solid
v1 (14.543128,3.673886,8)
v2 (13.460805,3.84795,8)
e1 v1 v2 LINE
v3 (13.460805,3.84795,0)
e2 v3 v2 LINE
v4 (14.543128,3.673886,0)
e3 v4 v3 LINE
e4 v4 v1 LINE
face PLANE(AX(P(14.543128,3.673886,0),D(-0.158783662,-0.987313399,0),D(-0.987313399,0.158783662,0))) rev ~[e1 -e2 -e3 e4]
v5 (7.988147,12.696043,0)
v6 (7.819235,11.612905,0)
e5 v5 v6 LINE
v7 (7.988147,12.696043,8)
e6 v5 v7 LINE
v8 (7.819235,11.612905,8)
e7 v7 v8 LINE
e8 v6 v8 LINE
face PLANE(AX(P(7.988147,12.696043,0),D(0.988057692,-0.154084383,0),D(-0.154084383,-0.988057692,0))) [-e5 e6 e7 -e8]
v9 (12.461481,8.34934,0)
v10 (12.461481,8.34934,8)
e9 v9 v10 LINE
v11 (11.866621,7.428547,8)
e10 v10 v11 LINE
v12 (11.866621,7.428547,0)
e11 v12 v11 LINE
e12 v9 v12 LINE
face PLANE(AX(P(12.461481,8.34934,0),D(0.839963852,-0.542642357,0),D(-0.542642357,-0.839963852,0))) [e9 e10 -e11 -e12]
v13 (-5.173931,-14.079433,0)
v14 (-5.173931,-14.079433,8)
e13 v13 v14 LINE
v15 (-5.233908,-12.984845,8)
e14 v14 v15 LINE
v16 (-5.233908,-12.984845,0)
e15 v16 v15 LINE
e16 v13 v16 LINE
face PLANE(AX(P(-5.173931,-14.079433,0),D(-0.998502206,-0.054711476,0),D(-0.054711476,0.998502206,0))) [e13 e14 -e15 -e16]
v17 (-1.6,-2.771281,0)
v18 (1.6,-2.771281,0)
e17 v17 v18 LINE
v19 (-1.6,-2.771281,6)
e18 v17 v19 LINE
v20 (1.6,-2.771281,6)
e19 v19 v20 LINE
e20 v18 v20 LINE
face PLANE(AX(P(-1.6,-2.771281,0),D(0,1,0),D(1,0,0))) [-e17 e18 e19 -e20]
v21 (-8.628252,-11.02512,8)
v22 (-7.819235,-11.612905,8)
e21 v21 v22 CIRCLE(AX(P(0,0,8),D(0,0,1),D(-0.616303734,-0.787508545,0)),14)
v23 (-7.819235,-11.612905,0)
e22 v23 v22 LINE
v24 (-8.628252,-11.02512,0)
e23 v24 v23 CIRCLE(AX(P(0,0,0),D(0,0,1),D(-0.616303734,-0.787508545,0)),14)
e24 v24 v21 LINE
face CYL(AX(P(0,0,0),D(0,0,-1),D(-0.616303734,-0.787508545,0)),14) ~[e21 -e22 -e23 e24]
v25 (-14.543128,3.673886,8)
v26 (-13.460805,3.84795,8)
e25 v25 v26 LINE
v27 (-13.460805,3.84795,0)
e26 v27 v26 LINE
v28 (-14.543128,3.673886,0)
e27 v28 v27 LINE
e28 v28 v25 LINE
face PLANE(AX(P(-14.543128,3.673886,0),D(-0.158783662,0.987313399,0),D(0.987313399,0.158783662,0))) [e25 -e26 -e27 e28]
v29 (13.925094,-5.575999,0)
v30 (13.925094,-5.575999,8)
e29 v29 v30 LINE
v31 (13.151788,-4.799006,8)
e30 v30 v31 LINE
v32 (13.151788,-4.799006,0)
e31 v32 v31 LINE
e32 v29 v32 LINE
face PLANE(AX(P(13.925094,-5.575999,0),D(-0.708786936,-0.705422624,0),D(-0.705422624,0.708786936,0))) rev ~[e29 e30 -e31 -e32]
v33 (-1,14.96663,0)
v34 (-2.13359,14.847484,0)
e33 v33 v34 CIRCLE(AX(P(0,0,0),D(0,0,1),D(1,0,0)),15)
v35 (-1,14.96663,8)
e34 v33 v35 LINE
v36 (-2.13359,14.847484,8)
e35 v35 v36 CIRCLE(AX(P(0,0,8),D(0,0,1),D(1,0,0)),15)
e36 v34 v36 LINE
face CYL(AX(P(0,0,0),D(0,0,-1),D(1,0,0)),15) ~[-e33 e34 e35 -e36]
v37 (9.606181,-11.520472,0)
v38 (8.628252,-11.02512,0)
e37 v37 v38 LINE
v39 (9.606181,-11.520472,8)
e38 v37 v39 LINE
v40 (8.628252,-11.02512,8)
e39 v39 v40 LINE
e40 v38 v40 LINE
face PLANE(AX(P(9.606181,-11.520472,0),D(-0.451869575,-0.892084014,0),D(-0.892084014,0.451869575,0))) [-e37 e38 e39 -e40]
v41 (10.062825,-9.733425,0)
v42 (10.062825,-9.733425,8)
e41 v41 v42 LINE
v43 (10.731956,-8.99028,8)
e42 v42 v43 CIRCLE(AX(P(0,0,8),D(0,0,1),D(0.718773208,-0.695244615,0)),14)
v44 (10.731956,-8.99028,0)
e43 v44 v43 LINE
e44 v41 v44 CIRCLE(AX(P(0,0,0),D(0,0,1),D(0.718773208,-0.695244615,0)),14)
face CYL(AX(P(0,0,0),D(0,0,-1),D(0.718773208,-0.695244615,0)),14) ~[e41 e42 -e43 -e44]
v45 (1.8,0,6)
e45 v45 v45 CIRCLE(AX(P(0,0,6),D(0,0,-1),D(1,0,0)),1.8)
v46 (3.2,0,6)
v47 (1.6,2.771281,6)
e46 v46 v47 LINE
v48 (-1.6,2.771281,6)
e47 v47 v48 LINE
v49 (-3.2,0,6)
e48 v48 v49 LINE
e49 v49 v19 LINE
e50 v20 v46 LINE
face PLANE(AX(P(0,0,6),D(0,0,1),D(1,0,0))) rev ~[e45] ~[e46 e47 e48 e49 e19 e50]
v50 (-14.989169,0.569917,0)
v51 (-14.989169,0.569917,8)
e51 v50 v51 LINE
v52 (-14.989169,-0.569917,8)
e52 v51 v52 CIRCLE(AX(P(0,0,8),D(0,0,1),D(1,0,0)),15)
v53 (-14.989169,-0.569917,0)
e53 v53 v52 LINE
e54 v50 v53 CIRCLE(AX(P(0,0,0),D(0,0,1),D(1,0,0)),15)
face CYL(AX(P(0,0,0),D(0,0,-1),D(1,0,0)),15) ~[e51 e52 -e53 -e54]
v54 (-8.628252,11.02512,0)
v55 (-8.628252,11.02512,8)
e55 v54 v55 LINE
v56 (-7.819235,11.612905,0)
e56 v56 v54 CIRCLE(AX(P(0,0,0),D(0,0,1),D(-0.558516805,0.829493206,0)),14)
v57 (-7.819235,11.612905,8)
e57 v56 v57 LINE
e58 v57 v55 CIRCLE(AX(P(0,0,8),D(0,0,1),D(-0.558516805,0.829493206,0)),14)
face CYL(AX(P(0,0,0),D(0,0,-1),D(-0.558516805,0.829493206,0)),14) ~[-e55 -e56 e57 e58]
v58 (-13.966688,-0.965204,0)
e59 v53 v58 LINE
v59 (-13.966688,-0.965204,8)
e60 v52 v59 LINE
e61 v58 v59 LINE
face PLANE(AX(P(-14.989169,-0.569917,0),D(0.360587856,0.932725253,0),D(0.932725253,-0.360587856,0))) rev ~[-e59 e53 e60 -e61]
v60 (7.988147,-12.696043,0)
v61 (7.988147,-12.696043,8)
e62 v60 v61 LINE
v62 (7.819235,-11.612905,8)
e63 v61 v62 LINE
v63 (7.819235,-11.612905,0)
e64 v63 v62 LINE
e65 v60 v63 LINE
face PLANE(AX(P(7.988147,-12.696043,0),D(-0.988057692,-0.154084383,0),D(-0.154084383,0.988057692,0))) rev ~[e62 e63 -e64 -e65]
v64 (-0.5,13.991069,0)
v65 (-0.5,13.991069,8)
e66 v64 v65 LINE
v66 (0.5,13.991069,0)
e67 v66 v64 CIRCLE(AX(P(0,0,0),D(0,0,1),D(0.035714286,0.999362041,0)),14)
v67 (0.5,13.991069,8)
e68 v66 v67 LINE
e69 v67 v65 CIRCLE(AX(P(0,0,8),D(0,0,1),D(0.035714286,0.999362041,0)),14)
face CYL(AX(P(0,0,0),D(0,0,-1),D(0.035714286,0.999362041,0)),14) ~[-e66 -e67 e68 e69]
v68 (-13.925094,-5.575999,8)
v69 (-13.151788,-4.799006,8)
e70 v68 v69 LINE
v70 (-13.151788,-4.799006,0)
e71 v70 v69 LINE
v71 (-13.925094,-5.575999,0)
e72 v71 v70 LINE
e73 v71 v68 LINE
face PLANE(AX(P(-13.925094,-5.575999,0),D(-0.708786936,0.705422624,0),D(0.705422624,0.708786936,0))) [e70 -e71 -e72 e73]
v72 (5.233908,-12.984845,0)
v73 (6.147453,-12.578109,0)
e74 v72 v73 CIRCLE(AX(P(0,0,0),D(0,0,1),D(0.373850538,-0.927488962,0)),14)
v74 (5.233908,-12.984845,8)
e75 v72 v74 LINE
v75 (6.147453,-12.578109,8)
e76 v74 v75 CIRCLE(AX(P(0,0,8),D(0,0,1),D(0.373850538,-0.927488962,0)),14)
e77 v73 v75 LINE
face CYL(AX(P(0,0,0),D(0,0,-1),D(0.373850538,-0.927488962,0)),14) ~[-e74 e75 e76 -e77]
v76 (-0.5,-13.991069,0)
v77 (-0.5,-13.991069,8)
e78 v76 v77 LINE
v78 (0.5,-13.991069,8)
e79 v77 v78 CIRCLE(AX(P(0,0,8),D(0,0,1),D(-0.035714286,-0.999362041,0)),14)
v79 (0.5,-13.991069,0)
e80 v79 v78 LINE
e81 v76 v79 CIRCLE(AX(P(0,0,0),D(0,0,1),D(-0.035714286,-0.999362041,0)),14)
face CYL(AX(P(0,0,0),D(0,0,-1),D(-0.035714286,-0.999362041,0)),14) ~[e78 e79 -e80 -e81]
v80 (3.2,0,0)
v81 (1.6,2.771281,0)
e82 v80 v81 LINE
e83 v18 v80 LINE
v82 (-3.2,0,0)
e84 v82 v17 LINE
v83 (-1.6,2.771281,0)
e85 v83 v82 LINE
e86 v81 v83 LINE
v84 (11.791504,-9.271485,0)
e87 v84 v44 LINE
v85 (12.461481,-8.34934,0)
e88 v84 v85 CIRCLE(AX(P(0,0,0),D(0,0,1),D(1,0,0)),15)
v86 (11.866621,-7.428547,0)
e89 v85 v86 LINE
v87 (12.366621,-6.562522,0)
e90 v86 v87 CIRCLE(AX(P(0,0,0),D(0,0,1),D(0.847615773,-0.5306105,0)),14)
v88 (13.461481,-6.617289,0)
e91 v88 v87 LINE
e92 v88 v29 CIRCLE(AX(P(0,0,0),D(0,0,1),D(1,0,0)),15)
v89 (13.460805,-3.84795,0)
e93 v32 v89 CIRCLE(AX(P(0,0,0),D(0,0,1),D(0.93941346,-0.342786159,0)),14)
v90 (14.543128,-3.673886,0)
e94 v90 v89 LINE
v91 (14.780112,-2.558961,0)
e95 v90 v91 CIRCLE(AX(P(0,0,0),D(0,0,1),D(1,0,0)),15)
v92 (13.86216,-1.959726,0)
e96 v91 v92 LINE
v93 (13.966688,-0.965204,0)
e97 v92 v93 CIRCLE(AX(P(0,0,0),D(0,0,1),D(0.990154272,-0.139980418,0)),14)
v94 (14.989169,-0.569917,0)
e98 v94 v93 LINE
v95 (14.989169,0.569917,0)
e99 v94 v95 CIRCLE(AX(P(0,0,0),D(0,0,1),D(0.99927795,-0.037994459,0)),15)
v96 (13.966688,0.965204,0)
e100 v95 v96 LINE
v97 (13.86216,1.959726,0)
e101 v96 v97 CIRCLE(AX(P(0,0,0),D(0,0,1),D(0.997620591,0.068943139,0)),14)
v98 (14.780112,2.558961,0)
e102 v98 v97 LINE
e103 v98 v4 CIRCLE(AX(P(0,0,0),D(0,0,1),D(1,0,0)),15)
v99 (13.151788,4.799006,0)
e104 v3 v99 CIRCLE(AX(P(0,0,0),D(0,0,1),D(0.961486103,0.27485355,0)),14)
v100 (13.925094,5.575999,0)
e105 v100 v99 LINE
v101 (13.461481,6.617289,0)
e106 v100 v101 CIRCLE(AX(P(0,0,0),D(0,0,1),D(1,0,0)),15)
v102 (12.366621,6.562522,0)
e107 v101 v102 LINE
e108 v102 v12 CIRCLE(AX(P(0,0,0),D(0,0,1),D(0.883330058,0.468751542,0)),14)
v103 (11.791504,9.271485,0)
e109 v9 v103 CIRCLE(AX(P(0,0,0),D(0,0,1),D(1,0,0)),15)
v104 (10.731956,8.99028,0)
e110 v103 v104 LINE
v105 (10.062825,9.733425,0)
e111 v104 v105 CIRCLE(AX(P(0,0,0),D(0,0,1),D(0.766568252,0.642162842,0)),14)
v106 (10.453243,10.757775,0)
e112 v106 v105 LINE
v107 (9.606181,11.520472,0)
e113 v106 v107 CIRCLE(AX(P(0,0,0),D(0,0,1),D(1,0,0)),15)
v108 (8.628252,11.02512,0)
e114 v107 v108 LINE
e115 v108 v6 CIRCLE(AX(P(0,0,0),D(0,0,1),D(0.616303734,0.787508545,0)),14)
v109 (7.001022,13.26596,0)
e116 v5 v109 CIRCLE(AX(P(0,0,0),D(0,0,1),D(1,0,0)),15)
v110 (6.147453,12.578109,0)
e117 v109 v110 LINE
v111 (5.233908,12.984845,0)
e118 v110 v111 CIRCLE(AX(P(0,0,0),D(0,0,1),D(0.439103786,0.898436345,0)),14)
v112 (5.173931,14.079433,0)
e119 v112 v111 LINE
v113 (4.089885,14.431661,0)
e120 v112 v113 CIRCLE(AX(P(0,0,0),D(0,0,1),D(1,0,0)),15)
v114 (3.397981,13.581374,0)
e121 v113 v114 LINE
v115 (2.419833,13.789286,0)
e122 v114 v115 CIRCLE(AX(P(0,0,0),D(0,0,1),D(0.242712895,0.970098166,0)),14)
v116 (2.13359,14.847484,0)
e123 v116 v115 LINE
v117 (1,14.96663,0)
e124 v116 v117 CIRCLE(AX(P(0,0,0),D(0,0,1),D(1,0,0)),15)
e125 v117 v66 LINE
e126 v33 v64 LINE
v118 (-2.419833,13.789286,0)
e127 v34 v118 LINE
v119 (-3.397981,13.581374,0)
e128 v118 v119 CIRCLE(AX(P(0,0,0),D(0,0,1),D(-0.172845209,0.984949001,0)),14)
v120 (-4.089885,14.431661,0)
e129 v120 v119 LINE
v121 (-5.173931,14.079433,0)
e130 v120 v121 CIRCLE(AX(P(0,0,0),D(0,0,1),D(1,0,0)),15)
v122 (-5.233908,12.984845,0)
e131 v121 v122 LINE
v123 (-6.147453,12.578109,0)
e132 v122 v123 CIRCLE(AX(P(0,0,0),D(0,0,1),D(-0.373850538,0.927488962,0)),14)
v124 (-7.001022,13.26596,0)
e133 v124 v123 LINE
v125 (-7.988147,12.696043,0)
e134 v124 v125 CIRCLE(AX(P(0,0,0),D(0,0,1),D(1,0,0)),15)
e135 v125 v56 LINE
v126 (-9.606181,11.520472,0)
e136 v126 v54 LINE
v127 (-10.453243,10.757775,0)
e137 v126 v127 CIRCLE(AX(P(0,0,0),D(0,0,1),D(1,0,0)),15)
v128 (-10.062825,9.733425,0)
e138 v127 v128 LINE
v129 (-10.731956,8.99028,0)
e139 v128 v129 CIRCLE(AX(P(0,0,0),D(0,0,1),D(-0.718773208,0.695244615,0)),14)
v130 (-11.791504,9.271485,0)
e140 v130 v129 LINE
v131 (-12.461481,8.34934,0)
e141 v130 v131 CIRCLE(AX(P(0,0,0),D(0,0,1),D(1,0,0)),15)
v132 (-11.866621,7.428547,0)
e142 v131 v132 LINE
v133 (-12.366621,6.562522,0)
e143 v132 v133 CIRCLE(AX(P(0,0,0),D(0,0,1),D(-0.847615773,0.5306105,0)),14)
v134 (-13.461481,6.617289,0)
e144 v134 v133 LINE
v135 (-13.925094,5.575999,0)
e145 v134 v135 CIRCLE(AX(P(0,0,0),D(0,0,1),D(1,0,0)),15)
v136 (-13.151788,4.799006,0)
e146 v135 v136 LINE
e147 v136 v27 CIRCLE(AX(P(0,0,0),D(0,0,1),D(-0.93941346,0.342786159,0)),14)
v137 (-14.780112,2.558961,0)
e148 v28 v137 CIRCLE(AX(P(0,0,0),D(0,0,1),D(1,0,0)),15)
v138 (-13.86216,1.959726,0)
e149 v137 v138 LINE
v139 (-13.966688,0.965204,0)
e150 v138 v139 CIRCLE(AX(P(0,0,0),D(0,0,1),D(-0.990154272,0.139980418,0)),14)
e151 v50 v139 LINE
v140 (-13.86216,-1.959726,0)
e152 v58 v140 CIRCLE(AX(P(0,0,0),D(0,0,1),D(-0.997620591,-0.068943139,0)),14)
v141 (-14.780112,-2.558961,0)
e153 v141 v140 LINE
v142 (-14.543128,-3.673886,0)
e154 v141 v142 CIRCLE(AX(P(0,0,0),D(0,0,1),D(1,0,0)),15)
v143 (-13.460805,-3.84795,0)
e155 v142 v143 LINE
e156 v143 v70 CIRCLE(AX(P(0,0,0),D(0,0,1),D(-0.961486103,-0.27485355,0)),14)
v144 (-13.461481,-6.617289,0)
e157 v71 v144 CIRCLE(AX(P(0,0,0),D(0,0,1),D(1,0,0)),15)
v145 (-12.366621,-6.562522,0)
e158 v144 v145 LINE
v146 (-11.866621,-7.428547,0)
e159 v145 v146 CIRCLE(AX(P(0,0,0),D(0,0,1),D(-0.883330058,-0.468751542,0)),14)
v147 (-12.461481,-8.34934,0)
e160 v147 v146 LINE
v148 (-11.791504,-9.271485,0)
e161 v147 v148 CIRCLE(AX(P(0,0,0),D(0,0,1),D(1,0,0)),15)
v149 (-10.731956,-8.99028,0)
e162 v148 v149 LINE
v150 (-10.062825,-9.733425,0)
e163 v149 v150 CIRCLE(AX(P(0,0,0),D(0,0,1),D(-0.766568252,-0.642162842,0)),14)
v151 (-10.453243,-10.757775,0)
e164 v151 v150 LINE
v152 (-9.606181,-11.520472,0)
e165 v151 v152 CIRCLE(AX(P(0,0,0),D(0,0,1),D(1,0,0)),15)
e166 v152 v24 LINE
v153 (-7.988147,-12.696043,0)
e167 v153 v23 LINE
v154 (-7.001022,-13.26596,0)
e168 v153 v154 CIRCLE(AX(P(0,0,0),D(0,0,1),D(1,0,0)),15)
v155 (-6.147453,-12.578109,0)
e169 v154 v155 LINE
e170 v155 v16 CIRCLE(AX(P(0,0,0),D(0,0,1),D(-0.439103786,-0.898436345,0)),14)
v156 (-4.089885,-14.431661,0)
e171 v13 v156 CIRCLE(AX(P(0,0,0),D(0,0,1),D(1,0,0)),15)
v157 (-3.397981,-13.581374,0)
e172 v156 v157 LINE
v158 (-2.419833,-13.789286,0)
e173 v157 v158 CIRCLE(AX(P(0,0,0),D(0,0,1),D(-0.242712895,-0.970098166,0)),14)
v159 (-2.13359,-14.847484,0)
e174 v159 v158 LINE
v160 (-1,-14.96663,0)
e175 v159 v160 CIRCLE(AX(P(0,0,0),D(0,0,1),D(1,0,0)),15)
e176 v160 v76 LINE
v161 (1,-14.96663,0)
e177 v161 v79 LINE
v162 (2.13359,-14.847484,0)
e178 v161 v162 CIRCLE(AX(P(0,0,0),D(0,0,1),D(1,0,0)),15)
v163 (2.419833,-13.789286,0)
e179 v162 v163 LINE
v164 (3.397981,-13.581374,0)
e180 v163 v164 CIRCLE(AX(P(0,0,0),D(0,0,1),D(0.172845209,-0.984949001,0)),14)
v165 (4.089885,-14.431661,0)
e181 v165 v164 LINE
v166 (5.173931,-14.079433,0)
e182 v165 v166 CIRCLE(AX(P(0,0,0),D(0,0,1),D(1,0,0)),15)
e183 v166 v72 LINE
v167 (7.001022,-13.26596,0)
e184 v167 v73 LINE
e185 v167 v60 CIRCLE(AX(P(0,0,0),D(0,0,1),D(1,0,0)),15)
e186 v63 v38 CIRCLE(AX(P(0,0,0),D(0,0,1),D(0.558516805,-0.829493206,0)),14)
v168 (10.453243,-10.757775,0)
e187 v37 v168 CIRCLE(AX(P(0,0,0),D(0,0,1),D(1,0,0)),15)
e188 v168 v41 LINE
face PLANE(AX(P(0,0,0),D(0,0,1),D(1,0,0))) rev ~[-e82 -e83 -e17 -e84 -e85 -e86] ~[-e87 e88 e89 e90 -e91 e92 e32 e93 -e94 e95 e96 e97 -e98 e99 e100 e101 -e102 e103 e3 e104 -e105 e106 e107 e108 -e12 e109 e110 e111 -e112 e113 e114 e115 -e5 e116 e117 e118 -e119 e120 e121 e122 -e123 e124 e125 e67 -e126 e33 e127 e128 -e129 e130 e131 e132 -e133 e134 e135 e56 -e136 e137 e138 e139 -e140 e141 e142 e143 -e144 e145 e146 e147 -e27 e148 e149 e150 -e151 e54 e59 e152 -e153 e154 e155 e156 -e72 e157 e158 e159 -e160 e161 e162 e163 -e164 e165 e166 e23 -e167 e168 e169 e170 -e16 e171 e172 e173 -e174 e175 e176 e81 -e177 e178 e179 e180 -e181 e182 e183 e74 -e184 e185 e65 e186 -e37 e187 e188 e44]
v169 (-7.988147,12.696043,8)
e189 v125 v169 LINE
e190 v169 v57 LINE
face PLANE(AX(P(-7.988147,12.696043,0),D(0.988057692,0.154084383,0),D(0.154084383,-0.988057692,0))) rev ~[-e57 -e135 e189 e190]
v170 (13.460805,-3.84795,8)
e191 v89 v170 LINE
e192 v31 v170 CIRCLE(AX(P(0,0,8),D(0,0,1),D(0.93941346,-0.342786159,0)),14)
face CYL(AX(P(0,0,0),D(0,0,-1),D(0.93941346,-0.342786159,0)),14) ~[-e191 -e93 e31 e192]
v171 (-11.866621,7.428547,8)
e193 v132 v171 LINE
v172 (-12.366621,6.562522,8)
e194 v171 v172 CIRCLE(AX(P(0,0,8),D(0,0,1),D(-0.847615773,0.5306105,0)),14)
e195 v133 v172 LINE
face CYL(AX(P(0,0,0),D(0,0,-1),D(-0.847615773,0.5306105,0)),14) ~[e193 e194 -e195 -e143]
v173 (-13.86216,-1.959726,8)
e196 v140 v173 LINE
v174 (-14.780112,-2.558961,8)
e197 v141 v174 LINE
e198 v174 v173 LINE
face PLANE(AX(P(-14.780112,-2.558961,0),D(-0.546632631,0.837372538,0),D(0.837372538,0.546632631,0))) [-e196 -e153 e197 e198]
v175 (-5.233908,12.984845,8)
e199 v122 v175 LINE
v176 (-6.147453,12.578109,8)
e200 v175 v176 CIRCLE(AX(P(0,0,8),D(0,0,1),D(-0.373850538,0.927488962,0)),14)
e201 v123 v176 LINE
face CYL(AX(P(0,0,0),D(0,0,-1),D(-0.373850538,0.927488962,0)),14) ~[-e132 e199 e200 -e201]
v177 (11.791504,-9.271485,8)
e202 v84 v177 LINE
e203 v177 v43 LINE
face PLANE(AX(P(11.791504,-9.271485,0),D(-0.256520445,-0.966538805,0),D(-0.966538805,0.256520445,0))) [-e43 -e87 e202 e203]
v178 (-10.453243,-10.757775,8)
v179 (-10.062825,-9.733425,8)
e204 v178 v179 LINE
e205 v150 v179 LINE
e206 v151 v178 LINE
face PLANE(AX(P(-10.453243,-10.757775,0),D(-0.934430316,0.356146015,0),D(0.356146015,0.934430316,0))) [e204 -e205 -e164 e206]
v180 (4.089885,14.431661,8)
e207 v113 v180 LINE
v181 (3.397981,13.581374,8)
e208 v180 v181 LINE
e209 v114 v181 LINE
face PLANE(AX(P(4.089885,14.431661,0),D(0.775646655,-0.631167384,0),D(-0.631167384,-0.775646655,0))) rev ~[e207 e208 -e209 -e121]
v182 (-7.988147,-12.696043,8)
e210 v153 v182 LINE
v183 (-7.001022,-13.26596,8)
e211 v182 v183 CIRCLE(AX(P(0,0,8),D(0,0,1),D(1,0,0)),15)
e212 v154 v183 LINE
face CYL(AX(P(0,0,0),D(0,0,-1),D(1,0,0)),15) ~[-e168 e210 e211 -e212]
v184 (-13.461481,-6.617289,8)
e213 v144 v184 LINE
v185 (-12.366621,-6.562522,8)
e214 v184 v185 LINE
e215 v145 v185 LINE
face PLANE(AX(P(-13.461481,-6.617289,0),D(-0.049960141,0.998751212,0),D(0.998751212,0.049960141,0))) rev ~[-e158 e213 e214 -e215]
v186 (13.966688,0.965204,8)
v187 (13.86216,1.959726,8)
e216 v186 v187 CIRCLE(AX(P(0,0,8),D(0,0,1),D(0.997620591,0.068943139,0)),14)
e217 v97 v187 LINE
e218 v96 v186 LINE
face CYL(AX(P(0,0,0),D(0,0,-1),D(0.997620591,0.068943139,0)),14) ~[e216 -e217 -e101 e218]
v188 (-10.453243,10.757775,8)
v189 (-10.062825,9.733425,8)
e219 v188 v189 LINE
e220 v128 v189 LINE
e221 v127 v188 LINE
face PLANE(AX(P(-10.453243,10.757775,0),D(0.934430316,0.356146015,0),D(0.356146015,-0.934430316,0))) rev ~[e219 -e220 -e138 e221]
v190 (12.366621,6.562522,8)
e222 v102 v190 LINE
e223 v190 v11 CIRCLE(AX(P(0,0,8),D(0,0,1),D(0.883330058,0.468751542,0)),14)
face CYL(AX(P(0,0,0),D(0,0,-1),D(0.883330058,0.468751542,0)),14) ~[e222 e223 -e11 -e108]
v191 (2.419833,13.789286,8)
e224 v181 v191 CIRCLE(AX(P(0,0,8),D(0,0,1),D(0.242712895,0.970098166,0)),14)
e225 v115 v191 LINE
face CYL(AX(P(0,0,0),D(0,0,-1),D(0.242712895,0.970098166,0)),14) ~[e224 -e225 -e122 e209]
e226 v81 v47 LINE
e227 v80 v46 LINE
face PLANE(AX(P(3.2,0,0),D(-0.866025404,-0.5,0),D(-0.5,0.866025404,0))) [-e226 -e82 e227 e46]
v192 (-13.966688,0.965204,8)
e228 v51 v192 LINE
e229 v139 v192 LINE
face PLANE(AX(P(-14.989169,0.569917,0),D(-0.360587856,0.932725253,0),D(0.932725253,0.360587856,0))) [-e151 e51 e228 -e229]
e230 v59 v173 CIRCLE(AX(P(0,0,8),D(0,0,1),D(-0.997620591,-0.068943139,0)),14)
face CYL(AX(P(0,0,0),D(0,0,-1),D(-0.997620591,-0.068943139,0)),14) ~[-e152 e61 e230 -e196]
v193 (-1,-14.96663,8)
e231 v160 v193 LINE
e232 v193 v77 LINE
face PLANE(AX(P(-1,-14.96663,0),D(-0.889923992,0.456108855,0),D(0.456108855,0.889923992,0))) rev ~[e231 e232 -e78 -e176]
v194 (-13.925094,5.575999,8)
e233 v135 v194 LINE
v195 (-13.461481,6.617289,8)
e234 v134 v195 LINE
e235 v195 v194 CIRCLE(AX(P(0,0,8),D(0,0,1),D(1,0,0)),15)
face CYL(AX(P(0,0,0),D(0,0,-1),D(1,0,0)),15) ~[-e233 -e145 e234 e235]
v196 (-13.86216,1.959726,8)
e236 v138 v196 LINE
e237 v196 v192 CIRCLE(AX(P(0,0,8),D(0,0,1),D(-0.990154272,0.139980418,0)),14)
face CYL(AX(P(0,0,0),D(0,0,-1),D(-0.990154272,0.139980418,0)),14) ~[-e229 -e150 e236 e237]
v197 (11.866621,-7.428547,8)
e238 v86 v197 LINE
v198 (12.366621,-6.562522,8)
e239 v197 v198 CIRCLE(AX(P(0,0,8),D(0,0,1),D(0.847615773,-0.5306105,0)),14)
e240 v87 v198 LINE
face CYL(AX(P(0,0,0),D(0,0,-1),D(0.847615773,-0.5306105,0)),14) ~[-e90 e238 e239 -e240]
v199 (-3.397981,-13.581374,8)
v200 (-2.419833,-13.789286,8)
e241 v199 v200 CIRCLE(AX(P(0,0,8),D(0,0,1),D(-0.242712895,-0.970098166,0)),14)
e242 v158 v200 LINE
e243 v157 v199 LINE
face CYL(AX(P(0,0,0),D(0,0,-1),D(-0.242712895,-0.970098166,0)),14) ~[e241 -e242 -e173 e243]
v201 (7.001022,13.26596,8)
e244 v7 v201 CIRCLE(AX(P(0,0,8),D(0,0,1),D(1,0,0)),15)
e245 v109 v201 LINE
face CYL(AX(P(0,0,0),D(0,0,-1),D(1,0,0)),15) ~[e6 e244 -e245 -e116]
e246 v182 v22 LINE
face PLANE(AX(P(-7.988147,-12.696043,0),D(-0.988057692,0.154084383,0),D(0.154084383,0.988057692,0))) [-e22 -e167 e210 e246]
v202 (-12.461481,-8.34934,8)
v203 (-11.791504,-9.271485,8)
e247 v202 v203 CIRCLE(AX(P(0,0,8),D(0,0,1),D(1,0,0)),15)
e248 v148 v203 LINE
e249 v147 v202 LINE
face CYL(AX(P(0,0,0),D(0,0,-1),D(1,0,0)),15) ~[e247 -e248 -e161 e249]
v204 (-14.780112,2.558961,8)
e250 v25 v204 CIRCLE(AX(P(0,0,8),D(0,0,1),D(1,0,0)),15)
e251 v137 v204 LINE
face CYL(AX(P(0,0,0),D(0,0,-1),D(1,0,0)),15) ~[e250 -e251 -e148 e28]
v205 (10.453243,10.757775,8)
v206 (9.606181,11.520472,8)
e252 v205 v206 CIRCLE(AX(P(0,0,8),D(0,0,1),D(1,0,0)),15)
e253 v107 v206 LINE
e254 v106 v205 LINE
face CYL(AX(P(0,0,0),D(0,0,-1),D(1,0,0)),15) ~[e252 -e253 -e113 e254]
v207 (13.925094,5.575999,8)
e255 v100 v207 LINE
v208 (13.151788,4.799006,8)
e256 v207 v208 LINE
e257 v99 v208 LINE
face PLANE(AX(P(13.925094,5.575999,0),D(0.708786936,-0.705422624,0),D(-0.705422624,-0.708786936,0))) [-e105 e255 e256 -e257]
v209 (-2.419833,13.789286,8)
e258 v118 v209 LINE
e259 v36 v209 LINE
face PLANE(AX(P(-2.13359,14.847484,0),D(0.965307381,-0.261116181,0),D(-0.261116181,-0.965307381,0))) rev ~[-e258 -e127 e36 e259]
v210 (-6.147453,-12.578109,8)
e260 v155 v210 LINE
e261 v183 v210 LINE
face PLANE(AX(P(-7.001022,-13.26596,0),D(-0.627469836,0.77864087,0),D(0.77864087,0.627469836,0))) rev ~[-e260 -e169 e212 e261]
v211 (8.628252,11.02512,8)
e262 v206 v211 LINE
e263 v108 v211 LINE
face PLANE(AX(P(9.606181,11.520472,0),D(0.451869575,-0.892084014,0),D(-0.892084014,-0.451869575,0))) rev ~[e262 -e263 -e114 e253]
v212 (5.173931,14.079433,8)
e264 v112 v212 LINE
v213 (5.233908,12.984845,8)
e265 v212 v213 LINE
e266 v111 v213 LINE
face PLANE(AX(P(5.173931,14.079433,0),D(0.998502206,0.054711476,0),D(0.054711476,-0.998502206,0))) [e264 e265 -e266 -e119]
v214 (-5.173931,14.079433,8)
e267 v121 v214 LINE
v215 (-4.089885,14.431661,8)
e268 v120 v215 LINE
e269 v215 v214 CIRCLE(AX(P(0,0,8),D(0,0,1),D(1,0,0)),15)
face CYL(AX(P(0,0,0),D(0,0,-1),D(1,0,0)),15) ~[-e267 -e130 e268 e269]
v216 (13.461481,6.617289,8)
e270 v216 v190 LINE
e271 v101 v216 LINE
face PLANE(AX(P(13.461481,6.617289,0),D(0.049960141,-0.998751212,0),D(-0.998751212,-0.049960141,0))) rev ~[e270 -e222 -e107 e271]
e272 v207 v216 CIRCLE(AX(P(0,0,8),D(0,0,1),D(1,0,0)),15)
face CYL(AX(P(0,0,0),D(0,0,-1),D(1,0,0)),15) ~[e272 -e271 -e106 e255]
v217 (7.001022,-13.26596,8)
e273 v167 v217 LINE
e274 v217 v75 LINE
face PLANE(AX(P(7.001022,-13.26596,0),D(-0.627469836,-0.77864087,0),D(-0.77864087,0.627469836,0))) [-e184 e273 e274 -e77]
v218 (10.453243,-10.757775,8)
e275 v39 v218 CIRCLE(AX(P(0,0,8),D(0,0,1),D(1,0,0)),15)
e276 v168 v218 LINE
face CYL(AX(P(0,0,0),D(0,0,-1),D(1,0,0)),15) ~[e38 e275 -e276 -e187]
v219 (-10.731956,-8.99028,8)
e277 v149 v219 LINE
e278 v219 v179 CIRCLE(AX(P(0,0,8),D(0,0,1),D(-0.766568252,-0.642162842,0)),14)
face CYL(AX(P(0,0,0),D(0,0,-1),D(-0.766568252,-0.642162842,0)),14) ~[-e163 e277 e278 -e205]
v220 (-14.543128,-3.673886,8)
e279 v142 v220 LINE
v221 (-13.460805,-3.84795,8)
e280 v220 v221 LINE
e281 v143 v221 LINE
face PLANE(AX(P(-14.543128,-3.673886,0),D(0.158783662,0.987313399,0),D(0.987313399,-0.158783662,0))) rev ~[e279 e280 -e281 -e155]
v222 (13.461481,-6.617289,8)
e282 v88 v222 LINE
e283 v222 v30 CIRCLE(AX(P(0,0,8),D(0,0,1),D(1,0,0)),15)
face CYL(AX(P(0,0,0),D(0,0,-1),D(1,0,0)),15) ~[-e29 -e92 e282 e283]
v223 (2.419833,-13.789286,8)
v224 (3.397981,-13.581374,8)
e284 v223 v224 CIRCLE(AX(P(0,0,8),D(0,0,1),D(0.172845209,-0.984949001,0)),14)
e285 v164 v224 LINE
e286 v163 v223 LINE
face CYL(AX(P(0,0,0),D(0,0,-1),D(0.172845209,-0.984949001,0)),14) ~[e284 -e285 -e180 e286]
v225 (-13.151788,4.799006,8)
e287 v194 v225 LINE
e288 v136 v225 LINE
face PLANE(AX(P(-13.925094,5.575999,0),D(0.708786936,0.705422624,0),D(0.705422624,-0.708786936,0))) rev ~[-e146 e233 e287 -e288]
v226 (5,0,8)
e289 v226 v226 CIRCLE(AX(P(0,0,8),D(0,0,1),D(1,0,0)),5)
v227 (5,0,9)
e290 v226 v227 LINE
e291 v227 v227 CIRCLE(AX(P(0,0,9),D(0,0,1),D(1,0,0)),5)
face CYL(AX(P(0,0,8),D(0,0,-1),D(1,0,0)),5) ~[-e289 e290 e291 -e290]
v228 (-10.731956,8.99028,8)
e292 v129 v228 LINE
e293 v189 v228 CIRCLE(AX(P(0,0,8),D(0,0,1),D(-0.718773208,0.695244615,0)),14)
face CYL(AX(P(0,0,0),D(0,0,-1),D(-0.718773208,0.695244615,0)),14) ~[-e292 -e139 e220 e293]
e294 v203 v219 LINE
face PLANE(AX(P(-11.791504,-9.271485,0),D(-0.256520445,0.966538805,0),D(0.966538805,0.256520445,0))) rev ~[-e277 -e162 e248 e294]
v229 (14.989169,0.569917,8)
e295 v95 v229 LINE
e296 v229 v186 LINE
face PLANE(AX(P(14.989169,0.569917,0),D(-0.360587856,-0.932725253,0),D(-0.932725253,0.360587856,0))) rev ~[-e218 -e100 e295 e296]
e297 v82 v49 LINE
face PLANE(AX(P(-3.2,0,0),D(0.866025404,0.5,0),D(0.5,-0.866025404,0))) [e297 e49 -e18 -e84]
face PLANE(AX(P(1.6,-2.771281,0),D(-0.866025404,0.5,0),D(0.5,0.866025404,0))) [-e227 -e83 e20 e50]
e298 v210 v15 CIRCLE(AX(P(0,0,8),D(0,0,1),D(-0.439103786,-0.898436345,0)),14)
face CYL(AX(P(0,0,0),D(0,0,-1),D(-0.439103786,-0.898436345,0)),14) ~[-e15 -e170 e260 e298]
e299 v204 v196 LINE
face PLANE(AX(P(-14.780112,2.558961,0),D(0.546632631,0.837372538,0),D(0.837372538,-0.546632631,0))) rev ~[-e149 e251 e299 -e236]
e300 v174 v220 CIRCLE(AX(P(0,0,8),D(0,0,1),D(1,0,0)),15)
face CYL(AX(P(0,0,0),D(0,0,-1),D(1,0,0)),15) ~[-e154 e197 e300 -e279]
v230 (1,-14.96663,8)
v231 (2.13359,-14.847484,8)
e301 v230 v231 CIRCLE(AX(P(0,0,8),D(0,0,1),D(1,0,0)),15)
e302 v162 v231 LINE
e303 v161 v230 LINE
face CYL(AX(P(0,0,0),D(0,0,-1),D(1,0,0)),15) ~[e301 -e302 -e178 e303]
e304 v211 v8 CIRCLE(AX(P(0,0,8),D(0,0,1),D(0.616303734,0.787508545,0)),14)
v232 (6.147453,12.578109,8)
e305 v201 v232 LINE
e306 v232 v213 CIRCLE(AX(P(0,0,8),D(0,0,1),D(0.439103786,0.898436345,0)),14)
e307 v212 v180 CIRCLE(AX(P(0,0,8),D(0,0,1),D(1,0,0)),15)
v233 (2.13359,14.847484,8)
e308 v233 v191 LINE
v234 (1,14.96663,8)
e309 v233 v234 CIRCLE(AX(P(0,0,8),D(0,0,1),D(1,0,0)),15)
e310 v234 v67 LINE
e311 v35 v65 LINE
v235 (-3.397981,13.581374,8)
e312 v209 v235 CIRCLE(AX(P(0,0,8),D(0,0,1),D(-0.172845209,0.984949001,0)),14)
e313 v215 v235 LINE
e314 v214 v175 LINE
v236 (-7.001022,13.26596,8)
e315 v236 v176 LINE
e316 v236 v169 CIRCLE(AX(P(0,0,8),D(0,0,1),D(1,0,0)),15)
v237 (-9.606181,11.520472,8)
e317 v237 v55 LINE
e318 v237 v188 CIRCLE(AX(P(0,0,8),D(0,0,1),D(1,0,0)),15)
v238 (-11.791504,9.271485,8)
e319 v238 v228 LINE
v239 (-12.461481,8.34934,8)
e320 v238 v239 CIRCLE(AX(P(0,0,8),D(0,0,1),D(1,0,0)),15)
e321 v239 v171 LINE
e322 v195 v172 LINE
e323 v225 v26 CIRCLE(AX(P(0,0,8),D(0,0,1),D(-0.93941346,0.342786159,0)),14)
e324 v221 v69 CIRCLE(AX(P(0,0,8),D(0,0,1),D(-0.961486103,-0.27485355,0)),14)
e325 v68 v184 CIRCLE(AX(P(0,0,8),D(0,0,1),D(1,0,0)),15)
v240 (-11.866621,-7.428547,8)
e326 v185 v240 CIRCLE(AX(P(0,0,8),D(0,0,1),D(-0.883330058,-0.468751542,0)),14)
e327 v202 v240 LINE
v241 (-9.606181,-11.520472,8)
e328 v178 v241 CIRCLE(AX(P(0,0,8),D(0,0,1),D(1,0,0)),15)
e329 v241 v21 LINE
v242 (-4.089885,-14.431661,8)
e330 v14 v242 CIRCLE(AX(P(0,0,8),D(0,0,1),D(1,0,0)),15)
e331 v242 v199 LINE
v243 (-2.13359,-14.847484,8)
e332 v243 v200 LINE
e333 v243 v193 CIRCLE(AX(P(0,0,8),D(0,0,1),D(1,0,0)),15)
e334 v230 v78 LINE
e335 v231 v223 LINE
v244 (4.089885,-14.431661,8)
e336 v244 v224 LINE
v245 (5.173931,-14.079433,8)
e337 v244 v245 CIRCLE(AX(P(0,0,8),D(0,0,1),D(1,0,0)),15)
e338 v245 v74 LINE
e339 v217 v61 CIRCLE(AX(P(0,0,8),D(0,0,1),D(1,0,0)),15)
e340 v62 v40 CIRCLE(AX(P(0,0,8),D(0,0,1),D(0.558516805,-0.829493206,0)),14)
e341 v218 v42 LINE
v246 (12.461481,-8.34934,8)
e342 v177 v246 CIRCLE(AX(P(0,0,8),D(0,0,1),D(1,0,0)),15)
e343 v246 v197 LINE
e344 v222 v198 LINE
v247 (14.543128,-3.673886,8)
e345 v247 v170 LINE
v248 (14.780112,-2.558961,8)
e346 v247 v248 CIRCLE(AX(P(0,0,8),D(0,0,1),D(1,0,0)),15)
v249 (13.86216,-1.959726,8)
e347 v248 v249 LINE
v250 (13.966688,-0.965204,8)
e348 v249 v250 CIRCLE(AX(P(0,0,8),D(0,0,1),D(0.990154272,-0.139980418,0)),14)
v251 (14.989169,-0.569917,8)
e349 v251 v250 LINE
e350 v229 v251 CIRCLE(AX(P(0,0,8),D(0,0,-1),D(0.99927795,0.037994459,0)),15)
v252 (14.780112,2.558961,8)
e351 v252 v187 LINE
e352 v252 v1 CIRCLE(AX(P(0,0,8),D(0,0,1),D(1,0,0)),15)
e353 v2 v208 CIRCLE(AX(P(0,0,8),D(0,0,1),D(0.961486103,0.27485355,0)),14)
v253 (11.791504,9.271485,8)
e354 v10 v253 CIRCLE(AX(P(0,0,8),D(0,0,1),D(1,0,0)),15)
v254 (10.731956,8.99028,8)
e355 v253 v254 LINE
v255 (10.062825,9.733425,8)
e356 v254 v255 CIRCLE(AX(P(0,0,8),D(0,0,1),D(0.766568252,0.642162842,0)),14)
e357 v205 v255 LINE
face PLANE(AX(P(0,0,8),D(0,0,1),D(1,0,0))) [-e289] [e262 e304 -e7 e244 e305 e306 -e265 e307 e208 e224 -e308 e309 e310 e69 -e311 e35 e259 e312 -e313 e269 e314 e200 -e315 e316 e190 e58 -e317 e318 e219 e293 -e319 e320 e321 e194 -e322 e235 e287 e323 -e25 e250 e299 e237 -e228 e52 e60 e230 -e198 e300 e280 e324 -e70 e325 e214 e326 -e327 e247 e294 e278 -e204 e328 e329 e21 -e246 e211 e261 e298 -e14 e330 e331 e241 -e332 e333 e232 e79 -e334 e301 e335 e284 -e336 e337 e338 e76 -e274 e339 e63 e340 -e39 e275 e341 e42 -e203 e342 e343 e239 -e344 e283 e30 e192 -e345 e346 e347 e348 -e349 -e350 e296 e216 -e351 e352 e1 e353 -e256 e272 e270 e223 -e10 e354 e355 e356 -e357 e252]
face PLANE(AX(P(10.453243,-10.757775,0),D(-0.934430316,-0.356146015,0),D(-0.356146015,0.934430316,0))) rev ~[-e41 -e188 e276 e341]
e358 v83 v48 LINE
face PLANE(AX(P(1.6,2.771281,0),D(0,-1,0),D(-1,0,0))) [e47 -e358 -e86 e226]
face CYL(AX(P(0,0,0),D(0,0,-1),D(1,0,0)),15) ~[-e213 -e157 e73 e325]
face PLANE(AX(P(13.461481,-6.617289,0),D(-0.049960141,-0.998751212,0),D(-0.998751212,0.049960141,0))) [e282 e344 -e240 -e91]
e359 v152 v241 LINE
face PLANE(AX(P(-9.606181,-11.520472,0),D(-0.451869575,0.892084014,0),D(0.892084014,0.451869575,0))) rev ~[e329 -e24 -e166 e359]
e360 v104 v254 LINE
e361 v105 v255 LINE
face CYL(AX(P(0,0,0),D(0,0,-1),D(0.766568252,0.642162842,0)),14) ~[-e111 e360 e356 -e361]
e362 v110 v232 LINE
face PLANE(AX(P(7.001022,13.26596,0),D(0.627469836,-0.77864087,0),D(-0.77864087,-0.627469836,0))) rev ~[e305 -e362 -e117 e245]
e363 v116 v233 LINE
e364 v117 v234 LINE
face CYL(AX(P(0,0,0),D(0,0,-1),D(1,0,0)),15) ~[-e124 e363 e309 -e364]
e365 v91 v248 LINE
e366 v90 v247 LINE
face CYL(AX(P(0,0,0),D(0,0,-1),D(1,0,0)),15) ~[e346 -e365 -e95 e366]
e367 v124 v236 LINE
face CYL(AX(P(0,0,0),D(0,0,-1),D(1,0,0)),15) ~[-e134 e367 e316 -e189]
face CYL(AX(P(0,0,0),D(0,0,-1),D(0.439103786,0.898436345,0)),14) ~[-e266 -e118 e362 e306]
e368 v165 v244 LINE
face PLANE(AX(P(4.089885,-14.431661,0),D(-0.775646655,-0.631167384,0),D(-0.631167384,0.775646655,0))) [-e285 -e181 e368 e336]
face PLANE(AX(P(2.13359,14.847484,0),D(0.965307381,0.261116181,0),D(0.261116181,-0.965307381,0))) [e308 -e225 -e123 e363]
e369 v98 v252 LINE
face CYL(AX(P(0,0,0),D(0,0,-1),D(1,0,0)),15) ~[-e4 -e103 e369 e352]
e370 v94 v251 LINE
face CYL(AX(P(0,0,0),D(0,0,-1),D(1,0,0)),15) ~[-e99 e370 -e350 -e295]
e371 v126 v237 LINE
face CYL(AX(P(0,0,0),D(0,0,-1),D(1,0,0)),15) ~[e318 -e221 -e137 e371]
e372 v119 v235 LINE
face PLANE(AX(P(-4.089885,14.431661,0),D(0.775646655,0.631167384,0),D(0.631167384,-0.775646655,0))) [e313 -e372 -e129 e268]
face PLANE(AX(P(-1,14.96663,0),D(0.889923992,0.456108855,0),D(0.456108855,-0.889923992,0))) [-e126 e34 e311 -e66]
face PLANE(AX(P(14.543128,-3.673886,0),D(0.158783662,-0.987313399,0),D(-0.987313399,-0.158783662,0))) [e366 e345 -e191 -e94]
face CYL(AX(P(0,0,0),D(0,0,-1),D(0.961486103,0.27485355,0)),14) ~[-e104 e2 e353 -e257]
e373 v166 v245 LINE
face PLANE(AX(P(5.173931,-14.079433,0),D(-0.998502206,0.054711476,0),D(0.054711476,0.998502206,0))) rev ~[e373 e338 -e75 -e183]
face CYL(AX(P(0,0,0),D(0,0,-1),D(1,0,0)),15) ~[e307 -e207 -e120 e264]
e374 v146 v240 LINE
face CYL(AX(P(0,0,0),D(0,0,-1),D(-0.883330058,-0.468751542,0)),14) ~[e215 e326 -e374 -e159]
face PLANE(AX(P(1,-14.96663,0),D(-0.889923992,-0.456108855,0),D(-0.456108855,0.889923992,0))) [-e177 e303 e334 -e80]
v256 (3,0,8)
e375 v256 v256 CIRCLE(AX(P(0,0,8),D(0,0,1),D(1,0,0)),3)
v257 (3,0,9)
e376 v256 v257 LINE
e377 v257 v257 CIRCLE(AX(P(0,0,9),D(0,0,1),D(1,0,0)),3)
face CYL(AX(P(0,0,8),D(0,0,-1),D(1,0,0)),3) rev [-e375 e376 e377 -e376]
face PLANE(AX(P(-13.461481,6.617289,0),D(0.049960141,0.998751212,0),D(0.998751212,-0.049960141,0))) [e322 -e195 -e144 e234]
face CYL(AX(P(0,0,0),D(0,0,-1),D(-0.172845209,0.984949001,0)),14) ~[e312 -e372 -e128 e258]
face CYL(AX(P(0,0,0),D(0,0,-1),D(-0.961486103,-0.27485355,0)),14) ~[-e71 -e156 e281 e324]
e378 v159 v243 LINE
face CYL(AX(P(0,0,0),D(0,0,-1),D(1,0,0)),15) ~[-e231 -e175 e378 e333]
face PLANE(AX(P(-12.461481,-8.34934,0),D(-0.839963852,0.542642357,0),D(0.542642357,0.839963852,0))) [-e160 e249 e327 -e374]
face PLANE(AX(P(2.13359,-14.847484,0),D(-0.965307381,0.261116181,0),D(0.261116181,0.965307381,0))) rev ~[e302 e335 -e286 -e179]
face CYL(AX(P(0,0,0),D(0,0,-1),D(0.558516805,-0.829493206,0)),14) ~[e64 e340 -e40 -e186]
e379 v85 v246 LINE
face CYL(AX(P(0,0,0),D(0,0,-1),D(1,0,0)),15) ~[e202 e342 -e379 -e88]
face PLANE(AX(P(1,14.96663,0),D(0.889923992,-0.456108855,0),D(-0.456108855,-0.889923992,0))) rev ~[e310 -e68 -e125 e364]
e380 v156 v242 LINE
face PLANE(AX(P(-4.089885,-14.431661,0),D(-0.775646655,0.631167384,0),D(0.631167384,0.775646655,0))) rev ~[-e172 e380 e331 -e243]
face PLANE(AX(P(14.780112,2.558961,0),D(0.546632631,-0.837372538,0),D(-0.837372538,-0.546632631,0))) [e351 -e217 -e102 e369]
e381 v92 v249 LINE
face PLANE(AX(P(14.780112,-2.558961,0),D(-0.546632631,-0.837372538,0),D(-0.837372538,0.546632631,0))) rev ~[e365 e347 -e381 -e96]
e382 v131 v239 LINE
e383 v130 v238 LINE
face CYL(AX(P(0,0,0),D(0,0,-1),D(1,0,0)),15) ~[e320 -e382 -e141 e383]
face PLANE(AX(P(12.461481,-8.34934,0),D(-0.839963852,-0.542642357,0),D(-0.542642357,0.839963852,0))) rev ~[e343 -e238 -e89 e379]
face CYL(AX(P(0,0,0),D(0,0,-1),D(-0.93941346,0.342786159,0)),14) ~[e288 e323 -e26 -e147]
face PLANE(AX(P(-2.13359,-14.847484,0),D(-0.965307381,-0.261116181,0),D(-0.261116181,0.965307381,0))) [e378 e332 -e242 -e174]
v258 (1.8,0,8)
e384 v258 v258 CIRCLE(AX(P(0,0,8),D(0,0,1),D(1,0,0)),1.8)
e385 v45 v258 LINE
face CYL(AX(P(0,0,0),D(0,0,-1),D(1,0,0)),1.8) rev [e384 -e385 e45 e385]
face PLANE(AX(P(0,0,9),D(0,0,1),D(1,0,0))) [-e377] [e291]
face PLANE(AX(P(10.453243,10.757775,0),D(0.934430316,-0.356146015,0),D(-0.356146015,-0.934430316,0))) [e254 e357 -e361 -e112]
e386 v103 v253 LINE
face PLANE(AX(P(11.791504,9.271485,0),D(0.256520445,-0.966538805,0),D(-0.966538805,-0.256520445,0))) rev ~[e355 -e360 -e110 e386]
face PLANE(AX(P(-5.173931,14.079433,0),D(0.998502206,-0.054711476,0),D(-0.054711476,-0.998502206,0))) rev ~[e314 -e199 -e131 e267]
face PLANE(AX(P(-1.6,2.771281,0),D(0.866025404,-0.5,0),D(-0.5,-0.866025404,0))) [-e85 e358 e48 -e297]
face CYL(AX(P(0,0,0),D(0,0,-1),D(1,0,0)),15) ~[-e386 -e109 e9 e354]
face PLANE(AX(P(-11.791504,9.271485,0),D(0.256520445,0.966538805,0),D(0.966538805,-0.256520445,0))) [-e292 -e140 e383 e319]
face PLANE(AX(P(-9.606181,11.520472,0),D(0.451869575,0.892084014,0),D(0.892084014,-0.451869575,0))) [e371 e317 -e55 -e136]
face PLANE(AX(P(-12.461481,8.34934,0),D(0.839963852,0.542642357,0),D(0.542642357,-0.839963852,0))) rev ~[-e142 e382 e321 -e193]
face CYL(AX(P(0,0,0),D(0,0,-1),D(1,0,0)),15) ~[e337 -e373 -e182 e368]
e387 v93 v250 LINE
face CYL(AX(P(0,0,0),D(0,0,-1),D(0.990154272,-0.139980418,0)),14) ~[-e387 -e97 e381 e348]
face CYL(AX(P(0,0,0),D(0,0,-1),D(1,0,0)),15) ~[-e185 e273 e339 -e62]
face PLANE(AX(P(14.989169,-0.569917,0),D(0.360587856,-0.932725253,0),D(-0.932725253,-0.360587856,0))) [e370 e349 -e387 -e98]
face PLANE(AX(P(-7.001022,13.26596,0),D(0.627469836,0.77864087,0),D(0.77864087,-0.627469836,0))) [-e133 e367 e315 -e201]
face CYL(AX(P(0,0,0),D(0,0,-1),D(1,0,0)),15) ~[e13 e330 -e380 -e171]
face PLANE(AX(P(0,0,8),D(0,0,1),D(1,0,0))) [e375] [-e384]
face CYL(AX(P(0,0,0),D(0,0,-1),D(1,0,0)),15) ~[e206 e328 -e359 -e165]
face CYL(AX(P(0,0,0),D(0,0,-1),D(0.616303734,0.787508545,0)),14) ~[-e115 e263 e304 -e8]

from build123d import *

# Parameters (mm, degrees)
PAD001_DEPTH  = 6
PAD002_DEPTH  = 8
ARRAY_COUNT   = 30
SKETCH_R      = 15
SKETCH_R_2    = 1.8
PAD_DEPTH     = 8
SKETCH003_R   = 5
SKETCH003_R_2 = 3
PAD003_DEPTH  = 1


with BuildPart() as nutmount:
    # Sketch001 → Pad001 (new body)
    with BuildSketch(Plane.XY):
        Polygon((1.6, -2.7712812921), (3.2, 0), (1.6, 2.7712812921), (-1.6, 2.7712812921), (-3.2, 0), (-1.6, -2.7712812921), align=None)
    extrude(amount=PAD001_DEPTH)


with BuildPart() as cutblock:
    # Sketch002 → Pad002 (new body)
    with BuildSketch(Plane.XY):
        with BuildLine():
            ThreePointArc((1, 14.9666295471), (0, 15), (-1, 14.9666295471))
            Line((-1, 14.9666295471), (-0.5, 13.9910685796))
            ThreePointArc((0.5, 13.9910685796), (0, 14), (-0.5, 13.9910685796))
            Line((1, 14.9666295471), (0.5, 13.9910685796))
        make_face()
    extrude(amount=PAD002_DEPTH)

    # Array: CutBlock ×30 about axis
    array_axis = Axis((0, 0, 0), (0, 0, 1))


with BuildPart() as cutblock_1:
    add(cutblock.part)
    for i in range(1, ARRAY_COUNT):
        add(cutblock.part.rotate(array_axis, i * 360 / ARRAY_COUNT))

    # Fusion001: union NutMount
    add(nutmount.part)


with BuildPart() as base:
    # Sketch → Pad (new body)
    with BuildSketch(Plane.XY):
        Circle(SKETCH_R)
        Circle(SKETCH_R_2, mode=Mode.SUBTRACT)
    extrude(amount=PAD_DEPTH)


with BuildPart() as final:
    # Sketch003 → Pad003 (new body)
    with BuildSketch(Plane.XY.offset(8)):
        Circle(SKETCH003_R)
        Circle(SKETCH003_R_2, mode=Mode.SUBTRACT)
    extrude(amount=PAD003_DEPTH)

    # Fusion: union Base
    add(base.part)

    # Cut: cut CutBlock
    add(cutblock_1.part, mode=Mode.SUBTRACT)


solid = final.part
